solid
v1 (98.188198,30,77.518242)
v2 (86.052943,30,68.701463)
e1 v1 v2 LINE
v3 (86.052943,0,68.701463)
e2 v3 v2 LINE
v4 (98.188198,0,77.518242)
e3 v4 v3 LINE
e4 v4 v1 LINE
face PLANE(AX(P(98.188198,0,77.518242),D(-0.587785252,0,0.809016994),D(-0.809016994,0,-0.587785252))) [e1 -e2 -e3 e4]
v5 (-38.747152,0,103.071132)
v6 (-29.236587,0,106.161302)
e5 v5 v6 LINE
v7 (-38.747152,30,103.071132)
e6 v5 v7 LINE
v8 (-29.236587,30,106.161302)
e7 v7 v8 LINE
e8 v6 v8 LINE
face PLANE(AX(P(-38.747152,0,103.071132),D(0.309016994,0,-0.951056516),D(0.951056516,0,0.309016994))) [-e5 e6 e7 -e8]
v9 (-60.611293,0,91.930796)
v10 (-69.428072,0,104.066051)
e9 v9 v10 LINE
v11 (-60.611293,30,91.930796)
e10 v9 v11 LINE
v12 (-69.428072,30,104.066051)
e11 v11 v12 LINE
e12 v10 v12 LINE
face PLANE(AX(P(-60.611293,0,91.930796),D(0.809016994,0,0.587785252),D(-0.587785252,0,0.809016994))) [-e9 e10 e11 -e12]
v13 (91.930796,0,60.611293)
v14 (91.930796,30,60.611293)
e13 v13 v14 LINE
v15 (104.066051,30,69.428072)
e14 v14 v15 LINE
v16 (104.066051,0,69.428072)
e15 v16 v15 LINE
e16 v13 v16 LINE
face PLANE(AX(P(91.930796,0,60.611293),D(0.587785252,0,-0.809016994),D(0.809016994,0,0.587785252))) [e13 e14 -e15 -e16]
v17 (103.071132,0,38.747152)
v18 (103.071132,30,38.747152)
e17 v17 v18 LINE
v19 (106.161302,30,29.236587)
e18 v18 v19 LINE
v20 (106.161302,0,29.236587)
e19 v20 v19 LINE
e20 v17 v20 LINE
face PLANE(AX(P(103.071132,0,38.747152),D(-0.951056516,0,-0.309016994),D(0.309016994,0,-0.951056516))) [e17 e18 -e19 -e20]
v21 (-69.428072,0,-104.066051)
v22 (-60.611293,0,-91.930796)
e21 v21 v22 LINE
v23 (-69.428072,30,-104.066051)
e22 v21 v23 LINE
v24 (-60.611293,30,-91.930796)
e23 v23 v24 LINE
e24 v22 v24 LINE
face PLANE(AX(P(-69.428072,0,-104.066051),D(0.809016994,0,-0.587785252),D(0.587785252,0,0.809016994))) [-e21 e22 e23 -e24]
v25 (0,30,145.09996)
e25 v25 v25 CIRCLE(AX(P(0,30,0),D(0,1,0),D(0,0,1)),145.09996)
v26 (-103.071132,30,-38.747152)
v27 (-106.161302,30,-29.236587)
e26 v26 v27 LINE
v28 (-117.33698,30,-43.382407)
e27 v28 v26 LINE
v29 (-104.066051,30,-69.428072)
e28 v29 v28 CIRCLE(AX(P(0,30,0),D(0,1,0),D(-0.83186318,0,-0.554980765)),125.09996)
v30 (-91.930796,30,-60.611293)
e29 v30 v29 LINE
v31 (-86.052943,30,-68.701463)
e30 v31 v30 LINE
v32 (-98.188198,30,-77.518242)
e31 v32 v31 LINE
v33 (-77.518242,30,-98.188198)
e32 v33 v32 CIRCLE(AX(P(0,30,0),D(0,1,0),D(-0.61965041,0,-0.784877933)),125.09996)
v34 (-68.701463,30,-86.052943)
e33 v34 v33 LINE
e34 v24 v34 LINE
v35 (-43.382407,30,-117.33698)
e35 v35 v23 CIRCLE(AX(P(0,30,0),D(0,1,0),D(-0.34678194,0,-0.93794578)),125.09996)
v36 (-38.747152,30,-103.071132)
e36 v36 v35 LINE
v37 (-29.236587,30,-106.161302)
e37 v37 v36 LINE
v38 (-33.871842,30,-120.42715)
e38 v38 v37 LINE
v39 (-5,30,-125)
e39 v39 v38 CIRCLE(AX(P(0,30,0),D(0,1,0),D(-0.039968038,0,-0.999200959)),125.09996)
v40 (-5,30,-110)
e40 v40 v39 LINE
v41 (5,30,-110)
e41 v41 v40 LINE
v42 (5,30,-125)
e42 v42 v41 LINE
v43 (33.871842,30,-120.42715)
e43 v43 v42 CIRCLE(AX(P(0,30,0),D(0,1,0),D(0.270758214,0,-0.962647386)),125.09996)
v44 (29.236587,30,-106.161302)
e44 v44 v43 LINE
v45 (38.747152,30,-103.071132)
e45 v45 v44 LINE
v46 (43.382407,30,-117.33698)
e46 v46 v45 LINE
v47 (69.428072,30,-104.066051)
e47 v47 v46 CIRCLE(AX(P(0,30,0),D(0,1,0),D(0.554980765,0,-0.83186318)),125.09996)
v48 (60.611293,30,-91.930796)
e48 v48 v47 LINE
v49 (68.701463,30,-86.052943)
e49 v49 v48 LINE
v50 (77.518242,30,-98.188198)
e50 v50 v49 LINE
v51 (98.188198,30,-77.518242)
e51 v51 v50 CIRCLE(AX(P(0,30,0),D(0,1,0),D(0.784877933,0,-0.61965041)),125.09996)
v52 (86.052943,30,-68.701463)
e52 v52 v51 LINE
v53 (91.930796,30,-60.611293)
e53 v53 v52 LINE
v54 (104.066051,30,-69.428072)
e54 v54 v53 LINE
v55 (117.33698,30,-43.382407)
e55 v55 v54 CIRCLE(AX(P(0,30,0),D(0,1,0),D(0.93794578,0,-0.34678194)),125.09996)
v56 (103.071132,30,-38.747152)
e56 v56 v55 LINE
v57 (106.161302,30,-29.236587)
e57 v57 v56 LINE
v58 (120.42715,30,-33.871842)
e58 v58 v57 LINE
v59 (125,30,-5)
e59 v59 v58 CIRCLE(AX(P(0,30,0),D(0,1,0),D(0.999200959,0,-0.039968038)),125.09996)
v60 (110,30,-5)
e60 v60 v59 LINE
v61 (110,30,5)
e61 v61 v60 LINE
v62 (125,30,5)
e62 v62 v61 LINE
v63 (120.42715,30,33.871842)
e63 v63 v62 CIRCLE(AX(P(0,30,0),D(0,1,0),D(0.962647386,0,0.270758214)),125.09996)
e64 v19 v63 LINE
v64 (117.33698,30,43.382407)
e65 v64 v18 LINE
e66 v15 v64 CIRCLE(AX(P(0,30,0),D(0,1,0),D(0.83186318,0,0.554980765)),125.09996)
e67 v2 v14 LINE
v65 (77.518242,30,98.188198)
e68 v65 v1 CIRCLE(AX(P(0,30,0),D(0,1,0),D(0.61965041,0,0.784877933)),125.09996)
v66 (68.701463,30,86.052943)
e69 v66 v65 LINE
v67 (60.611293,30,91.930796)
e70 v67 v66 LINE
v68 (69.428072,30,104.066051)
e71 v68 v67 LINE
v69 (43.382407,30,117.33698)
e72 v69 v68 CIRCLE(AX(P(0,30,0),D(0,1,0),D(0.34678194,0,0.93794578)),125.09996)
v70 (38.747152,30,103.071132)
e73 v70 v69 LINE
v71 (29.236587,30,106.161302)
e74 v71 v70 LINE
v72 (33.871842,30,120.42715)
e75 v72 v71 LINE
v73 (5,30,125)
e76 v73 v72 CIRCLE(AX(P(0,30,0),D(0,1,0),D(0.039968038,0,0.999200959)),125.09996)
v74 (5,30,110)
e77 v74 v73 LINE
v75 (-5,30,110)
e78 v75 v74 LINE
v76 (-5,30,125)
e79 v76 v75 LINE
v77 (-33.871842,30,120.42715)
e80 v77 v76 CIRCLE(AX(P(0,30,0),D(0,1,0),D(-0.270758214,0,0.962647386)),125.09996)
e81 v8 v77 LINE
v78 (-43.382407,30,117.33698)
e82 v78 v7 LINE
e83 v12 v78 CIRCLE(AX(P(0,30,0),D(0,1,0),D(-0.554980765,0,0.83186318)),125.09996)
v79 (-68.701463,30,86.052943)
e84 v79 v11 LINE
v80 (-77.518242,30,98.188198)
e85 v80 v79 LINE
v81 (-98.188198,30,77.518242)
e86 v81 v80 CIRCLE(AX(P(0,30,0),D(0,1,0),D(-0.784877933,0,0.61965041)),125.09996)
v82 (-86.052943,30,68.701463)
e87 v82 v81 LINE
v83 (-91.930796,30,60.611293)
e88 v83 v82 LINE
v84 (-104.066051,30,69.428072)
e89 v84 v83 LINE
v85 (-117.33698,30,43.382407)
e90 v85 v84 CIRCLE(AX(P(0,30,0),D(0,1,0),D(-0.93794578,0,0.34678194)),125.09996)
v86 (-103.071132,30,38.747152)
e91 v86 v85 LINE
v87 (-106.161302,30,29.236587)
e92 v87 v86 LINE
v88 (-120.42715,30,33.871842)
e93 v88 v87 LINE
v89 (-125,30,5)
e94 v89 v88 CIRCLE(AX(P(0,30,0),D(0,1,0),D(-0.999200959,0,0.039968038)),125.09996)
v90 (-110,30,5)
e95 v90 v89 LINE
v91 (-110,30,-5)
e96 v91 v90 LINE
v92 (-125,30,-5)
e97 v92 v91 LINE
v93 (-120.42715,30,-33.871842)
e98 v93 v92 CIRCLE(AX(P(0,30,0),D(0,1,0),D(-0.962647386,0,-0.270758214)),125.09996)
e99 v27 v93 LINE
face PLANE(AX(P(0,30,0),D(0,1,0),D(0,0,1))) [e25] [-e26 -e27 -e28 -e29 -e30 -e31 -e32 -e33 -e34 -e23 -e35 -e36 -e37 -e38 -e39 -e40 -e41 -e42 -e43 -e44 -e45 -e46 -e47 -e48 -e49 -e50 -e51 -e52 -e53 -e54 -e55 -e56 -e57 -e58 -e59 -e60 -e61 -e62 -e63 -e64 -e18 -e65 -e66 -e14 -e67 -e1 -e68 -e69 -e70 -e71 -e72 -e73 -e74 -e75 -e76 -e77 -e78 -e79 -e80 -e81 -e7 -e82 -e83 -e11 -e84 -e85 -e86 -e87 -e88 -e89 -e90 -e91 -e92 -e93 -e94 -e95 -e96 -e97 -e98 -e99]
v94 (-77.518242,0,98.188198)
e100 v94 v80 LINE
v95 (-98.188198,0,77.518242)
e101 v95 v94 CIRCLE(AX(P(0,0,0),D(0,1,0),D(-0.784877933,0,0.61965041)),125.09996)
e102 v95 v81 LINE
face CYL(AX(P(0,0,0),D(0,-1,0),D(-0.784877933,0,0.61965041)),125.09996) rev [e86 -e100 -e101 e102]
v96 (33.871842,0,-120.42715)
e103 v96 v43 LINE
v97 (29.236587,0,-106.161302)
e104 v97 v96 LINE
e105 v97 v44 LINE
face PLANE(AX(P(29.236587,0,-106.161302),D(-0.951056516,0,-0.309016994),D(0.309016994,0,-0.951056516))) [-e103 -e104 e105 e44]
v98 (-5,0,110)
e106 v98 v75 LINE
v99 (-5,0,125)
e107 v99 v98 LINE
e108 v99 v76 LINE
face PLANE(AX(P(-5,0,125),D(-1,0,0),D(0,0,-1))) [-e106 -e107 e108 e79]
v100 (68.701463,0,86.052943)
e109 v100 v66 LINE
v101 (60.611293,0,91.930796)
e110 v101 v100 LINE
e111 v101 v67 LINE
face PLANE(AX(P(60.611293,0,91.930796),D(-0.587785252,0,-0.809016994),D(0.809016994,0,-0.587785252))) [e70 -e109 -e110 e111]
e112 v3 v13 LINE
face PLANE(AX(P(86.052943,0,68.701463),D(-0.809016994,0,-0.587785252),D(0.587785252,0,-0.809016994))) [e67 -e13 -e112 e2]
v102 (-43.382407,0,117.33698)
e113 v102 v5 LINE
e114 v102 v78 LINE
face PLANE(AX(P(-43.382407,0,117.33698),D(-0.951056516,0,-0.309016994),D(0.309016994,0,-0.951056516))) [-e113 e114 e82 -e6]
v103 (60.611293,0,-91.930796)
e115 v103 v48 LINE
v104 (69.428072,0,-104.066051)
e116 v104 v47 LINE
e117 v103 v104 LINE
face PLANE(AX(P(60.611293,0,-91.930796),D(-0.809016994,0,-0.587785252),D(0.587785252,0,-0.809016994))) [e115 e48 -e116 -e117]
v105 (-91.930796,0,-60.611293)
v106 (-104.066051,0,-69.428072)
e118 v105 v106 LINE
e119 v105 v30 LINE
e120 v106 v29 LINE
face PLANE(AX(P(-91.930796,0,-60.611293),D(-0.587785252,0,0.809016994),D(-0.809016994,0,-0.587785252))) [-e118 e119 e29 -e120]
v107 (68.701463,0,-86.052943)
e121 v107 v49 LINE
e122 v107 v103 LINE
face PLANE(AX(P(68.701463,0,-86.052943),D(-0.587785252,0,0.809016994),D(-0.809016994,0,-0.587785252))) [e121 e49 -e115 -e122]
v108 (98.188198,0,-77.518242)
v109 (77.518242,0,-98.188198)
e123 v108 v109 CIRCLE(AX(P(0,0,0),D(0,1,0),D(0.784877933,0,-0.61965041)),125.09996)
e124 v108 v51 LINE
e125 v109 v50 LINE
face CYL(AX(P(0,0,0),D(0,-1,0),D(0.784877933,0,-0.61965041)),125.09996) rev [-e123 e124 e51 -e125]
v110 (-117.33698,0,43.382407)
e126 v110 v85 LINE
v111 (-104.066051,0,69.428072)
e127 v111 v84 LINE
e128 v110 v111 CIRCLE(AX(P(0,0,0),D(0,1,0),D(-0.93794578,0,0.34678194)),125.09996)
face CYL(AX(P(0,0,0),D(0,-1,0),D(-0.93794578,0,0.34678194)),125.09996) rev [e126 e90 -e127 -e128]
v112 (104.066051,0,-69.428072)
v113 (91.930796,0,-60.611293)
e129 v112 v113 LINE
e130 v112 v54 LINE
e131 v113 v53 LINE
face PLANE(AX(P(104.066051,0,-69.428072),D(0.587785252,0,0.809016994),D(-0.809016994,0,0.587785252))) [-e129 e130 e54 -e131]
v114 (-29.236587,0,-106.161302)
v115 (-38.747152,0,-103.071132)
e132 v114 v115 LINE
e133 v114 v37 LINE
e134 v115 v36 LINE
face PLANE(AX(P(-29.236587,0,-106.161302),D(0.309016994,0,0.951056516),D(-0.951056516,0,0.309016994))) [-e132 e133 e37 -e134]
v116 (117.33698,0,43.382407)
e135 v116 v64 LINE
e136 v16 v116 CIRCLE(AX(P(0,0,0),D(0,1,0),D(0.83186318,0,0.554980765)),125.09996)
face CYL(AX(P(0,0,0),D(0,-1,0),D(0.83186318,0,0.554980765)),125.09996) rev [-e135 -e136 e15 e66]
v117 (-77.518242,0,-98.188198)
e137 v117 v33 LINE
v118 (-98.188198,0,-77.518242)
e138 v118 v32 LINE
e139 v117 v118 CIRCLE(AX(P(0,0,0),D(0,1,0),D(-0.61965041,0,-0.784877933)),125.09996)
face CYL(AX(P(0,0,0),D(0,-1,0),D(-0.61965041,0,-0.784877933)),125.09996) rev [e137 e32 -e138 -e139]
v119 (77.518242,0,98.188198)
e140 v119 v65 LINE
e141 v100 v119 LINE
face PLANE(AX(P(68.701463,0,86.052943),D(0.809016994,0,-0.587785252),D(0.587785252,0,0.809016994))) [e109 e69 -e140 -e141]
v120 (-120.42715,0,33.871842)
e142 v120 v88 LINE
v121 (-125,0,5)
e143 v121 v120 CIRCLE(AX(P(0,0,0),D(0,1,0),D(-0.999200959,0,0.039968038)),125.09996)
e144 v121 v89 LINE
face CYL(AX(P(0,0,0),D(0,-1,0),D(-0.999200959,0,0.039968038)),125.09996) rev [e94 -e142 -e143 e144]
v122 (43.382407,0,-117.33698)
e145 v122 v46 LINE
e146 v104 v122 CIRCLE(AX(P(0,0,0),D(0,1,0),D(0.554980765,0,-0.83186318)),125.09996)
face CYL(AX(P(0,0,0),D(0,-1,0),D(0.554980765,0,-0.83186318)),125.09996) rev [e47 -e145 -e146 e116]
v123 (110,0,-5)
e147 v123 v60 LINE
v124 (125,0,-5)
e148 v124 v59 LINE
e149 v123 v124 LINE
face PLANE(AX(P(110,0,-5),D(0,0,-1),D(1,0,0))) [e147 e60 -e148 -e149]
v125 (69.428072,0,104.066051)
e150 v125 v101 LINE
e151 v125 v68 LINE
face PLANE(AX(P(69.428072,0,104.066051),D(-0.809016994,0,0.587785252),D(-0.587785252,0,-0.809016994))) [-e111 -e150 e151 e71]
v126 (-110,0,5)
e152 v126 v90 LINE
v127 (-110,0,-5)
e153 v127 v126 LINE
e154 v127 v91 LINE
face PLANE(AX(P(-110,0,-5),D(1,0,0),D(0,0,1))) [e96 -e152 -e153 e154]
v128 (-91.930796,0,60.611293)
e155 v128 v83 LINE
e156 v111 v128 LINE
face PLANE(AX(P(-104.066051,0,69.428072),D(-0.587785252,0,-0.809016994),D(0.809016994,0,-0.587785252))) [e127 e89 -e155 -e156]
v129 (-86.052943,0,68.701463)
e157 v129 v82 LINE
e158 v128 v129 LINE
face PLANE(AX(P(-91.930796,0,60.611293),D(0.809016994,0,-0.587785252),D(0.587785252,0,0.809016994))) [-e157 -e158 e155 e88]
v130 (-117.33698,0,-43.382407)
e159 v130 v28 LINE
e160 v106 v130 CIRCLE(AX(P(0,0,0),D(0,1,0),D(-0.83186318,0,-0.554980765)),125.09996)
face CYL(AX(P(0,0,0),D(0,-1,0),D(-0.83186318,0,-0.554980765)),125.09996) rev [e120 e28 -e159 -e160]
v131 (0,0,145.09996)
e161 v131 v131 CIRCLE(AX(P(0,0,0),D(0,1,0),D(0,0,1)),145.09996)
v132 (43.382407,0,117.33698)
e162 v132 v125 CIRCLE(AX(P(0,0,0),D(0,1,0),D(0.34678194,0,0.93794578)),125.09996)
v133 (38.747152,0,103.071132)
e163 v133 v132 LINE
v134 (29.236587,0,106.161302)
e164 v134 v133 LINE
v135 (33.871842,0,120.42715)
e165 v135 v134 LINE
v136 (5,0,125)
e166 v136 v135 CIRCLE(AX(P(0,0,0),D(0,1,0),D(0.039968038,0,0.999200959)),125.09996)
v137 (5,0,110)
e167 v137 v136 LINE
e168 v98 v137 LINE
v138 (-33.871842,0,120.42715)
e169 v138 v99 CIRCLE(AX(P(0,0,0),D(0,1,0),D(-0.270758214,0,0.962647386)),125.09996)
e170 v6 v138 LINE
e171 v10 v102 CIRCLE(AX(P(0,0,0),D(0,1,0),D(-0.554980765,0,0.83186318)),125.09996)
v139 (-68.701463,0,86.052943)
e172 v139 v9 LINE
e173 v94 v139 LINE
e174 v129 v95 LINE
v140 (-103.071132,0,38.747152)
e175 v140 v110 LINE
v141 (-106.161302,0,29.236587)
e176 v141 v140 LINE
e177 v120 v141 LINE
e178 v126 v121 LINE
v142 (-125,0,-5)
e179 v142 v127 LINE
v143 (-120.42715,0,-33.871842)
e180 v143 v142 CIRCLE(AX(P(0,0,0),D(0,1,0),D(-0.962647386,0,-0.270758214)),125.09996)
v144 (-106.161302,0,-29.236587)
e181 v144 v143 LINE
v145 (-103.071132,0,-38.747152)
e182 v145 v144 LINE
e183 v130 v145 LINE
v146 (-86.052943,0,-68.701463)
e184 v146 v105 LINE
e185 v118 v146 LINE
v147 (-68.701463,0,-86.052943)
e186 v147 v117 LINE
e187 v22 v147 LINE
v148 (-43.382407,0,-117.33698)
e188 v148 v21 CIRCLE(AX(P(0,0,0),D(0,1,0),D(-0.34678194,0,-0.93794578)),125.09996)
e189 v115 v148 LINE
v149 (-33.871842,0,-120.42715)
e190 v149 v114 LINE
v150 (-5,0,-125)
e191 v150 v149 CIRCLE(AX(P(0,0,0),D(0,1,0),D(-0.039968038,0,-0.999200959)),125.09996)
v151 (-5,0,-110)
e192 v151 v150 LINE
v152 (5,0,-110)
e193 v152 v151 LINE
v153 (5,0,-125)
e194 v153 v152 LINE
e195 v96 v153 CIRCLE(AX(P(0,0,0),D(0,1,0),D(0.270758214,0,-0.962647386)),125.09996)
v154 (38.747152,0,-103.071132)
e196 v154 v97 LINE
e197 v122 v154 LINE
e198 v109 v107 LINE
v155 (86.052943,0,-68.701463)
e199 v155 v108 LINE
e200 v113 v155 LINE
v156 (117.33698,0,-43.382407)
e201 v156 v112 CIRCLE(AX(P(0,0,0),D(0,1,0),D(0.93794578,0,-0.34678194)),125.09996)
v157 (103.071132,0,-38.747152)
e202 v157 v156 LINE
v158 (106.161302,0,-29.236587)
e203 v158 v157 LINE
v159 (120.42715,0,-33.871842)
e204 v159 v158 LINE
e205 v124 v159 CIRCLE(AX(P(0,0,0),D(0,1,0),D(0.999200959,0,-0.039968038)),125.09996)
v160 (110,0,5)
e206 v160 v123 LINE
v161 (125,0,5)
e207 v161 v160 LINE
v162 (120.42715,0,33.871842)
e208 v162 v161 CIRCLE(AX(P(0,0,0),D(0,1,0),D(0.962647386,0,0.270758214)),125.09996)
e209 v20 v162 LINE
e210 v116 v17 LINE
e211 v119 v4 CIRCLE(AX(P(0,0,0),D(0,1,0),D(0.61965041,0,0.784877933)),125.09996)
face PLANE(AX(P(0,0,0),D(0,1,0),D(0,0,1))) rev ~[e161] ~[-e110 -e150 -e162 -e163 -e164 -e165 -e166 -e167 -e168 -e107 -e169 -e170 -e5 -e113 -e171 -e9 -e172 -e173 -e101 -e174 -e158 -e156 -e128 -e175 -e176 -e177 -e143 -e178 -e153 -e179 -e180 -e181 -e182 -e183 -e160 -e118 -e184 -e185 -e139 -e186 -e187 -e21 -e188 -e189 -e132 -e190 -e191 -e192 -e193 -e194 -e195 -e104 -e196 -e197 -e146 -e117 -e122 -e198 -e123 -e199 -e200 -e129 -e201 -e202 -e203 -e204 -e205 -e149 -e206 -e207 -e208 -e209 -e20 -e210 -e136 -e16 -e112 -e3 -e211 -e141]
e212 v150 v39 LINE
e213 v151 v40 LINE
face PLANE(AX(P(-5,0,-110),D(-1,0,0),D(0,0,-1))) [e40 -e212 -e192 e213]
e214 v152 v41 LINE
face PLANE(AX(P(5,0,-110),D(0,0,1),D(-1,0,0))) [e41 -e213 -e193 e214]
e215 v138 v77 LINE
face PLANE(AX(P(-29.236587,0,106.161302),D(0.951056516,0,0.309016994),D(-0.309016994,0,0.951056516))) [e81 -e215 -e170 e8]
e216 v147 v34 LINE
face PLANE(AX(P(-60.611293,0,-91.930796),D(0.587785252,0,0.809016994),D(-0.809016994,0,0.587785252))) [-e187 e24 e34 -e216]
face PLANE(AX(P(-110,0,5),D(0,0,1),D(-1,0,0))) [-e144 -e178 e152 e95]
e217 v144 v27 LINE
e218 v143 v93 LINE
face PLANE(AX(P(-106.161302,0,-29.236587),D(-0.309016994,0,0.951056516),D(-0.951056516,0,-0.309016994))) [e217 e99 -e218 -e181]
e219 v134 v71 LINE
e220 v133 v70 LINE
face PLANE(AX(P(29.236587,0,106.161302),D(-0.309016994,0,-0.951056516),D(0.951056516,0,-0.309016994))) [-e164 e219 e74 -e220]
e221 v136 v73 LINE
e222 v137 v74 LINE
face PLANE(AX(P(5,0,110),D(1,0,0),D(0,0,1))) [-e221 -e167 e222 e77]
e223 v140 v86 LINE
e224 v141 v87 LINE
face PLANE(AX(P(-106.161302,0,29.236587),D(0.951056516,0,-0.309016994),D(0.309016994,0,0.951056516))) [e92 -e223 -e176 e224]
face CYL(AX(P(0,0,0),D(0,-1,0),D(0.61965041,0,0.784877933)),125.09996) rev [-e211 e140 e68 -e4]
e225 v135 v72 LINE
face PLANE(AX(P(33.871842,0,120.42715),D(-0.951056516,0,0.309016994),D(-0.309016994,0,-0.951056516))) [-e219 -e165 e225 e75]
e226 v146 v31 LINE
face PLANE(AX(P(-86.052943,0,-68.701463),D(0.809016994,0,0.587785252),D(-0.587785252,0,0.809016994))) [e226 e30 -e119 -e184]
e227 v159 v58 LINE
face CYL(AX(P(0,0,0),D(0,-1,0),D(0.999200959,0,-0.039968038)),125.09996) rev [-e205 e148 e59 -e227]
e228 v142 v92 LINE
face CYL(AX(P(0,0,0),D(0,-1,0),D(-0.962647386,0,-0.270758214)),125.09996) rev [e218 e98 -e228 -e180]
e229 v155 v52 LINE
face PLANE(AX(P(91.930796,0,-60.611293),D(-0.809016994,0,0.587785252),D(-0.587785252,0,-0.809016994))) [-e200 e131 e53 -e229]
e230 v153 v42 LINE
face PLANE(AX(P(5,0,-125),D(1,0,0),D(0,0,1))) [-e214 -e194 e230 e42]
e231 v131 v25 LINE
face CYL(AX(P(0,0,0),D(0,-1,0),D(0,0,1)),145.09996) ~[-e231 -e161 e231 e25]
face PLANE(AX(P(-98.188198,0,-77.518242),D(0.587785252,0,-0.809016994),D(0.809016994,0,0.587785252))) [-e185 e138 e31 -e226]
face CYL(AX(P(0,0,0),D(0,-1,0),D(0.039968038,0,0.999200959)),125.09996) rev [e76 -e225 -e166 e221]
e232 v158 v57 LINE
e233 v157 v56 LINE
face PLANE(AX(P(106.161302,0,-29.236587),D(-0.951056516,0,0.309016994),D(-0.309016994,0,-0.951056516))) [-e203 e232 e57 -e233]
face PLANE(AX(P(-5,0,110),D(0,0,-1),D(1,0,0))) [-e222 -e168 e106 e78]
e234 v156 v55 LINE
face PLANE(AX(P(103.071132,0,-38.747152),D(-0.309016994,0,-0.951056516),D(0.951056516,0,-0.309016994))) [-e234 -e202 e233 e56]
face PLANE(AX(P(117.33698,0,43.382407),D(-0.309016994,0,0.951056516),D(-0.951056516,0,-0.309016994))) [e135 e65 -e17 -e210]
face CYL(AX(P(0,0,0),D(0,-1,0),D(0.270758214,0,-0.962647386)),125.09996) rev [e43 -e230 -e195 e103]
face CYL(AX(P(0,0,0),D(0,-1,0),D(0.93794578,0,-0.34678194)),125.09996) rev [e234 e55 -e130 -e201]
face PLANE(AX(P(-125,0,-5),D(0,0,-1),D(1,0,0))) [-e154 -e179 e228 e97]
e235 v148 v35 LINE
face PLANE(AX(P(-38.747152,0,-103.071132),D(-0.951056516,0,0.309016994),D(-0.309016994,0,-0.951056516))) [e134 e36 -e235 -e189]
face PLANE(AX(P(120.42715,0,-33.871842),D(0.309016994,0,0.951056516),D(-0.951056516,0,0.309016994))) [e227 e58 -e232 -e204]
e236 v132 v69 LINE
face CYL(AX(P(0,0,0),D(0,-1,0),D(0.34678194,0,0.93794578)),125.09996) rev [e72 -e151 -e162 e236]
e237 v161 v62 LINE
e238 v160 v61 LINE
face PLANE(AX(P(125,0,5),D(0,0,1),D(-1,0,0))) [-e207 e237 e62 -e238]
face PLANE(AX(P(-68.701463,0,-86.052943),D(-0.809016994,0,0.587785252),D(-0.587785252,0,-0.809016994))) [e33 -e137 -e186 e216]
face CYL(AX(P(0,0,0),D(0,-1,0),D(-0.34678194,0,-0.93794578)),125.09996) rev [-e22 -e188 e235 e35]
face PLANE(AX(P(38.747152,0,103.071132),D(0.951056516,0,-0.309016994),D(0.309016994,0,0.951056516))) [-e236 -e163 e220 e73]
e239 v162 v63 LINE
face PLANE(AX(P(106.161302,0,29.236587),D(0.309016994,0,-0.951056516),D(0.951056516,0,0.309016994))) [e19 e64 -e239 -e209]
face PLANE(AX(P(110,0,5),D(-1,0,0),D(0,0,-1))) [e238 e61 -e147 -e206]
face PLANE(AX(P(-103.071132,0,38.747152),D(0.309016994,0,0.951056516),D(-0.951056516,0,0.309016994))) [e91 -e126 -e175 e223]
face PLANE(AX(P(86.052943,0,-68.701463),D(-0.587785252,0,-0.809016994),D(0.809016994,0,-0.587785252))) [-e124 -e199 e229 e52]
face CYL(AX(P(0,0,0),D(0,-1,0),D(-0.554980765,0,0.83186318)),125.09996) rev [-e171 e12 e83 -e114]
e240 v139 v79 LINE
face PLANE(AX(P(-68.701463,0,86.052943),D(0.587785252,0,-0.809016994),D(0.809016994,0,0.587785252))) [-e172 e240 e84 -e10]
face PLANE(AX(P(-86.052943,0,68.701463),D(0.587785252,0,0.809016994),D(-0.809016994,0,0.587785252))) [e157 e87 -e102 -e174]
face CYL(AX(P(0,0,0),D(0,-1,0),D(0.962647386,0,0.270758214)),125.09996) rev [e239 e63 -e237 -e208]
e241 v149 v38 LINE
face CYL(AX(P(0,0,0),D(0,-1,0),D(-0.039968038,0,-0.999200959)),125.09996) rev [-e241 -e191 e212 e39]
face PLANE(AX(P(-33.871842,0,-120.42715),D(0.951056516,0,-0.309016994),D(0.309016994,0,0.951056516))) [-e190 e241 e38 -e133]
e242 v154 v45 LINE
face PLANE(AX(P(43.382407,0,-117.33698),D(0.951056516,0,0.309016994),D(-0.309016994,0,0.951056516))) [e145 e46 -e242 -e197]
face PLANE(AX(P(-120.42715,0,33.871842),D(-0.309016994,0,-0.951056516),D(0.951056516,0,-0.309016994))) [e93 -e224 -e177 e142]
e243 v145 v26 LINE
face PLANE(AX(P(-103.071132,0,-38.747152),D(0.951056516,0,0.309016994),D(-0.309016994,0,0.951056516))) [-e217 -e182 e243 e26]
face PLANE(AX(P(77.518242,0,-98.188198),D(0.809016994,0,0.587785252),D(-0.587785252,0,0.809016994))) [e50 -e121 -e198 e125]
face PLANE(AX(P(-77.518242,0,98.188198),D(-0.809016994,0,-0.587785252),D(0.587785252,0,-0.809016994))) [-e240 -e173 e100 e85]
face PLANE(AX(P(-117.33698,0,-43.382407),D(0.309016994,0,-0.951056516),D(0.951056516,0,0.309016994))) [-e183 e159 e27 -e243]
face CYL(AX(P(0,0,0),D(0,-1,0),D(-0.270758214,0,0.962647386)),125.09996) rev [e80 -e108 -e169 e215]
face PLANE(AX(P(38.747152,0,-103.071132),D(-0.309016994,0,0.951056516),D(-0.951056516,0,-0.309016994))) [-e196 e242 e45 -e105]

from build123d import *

# Parameters (mm, degrees)
SKETCH_2_R      = 145.099960032
EXTRUDE_1_DEPTH = 30


with BuildPart() as part:
    # 草圖2 → 填料-伸長1 (new body)
    with BuildSketch(Plane(origin=(0, 0, 0), x_dir=(1, 0, 0), z_dir=(0, 1, 0))):
        with Locations(Location((0, 0, 0), (0, 0, 270))):
            Circle(SKETCH_2_R)
        with BuildLine():
            Line((29.2365868, 106.161301764), (33.871841715, 120.427149509))
            ThreePointArc((33.871841715, 120.427149509), (19.569945324, 123.559771932), (5, 125))
            Line((5, 125), (5, 110))
            Line((5, 110), (-5, 110))
            Line((-5, 110), (-5, 125))
            ThreePointArc((-5, 125), (-19.569945324, 123.559771932), (-33.871841715, 120.427149509))
            Line((-33.871841715, 120.427149509), (-29.2365868, 106.161301764))
            Line((-29.2365868, 106.161301764), (-38.747151963, 103.071131821))
            Line((-38.747151963, 103.071131821), (-43.382406878, 117.336979565))
            ThreePointArc((-43.382406878, 117.336979565), (-56.794193372, 111.464880564), (-69.428071565, 104.066050558))
            Line((-69.428071565, 104.066050558), (-60.61129278, 91.930795643))
            Line((-60.61129278, 91.930795643), (-68.701462724, 86.05294312))
            Line((-68.701462724, 86.05294312), (-77.518241508, 98.188198035))
            ThreePointArc((-77.518241508, 98.188198035), (-88.459030065, 88.459030065), (-98.188198035, 77.518241508))
            Line((-98.188198035, 77.518241508), (-86.05294312, 68.701462724))
            Line((-86.05294312, 68.701462724), (-91.930795643, 60.61129278))
            Line((-91.930795643, 60.61129278), (-104.066050558, 69.428071565))
            ThreePointArc((-104.066050558, 69.428071565), (-111.464880564, 56.794193372), (-117.336979565, 43.382406878))
            Line((-117.336979565, 43.382406878), (-103.071131821, 38.747151963))
            Line((-103.071131821, 38.747151963), (-106.161301764, 29.2365868))
            Line((-106.161301764, 29.2365868), (-120.427149509, 33.871841715))
            ThreePointArc((-120.427149509, 33.871841715), (-123.559771932, 19.569945324), (-125, 5))
            Line((-125, 5), (-110, 5))
            Line((-110, 5), (-110, -5))
            Line((-110, -5), (-125, -5))
            ThreePointArc((-125, -5), (-123.559771932, -19.569945324), (-120.427149509, -33.871841715))
            Line((-120.427149509, -33.871841715), (-106.161301764, -29.2365868))
            Line((-106.161301764, -29.2365868), (-103.071131821, -38.747151963))
            Line((-103.071131821, -38.747151963), (-117.336979565, -43.382406878))
            ThreePointArc((-117.336979565, -43.382406878), (-111.464880564, -56.794193372), (-104.066050558, -69.428071565))
            Line((-104.066050558, -69.428071565), (-91.930795643, -60.61129278))
            Line((-91.930795643, -60.61129278), (-86.05294312, -68.701462724))
            Line((-86.05294312, -68.701462724), (-98.188198035, -77.518241508))
            ThreePointArc((-98.188198035, -77.518241508), (-88.459030065, -88.459030065), (-77.518241508, -98.188198035))
            Line((-77.518241508, -98.188198035), (-68.701462724, -86.05294312))
            Line((-68.701462724, -86.05294312), (-60.61129278, -91.930795643))
            Line((-60.61129278, -91.930795643), (-69.428071565, -104.066050558))
            ThreePointArc((-69.428071565, -104.066050558), (-56.794193372, -111.464880564), (-43.382406878, -117.336979565))
            Line((-43.382406878, -117.336979565), (-38.747151963, -103.071131821))
            Line((-38.747151963, -103.071131821), (-29.2365868, -106.161301764))
            Line((-29.2365868, -106.161301764), (-33.871841715, -120.427149509))
            ThreePointArc((-33.871841715, -120.427149509), (-19.569945324, -123.559771932), (-5, -125))
            Line((-5, -125), (-5, -110))
            Line((-5, -110), (5, -110))
            Line((5, -110), (5, -125))
            ThreePointArc((5, -125), (19.569945324, -123.559771932), (33.871841715, -120.427149509))
            Line((33.871841715, -120.427149509), (29.2365868, -106.161301764))
            Line((29.2365868, -106.161301764), (38.747151963, -103.071131821))
            Line((38.747151963, -103.071131821), (43.382406878, -117.336979565))
            ThreePointArc((43.382406878, -117.336979565), (56.794193372, -111.464880564), (69.428071565, -104.066050558))
            Line((69.428071565, -104.066050558), (60.61129278, -91.930795643))
            Line((60.61129278, -91.930795643), (68.701462724, -86.05294312))
            Line((68.701462724, -86.05294312), (77.518241508, -98.188198035))
            ThreePointArc((77.518241508, -98.188198035), (88.459030065, -88.459030065), (98.188198035, -77.518241508))
            Line((98.188198035, -77.518241508), (86.05294312, -68.701462724))
            Line((86.05294312, -68.701462724), (91.930795643, -60.61129278))
            Line((91.930795643, -60.61129278), (104.066050558, -69.428071565))
            ThreePointArc((104.066050558, -69.428071565), (111.464880564, -56.794193372), (117.336979565, -43.382406878))
            Line((117.336979565, -43.382406878), (103.071131821, -38.747151963))
            Line((103.071131821, -38.747151963), (106.161301764, -29.2365868))
            Line((106.161301764, -29.2365868), (120.427149509, -33.871841715))
            ThreePointArc((120.427149509, -33.871841715), (123.559771932, -19.569945324), (125, -5))
            Line((125, -5), (110, -5))
            Line((110, -5), (110, 5))
            Line((110, 5), (125, 5))
            ThreePointArc((125, 5), (123.559771932, 19.569945324), (120.427149509, 33.871841715))
            Line((120.427149509, 33.871841715), (106.161301764, 29.2365868))
            Line((106.161301764, 29.2365868), (103.071131821, 38.747151963))
            Line((103.071131821, 38.747151963), (117.336979565, 43.382406878))
            ThreePointArc((117.336979565, 43.382406878), (111.464880564, 56.794193372), (104.066050558, 69.428071565))
            Line((104.066050558, 69.428071565), (91.930795643, 60.61129278))
            Line((91.930795643, 60.61129278), (86.05294312, 68.701462724))
            Line((86.05294312, 68.701462724), (98.188198035, 77.518241508))
            ThreePointArc((98.188198035, 77.518241508), (88.459030065, 88.459030065), (77.518241508, 98.188198035))
            Line((77.518241508, 98.188198035), (68.701462724, 86.05294312))
            Line((68.701462724, 86.05294312), (60.61129278, 91.930795643))
            Line((60.61129278, 91.930795643), (69.428071565, 104.066050558))
            ThreePointArc((69.428071565, 104.066050558), (56.794193372, 111.464880564), (43.382406878, 117.336979565))
            Line((43.382406878, 117.336979565), (38.747151963, 103.071131821))
            Line((38.747151963, 103.071131821), (29.2365868, 106.161301764))
        make_face(mode=Mode.SUBTRACT)
    extrude(amount=EXTRUDE_1_DEPTH)


solid = part.part
